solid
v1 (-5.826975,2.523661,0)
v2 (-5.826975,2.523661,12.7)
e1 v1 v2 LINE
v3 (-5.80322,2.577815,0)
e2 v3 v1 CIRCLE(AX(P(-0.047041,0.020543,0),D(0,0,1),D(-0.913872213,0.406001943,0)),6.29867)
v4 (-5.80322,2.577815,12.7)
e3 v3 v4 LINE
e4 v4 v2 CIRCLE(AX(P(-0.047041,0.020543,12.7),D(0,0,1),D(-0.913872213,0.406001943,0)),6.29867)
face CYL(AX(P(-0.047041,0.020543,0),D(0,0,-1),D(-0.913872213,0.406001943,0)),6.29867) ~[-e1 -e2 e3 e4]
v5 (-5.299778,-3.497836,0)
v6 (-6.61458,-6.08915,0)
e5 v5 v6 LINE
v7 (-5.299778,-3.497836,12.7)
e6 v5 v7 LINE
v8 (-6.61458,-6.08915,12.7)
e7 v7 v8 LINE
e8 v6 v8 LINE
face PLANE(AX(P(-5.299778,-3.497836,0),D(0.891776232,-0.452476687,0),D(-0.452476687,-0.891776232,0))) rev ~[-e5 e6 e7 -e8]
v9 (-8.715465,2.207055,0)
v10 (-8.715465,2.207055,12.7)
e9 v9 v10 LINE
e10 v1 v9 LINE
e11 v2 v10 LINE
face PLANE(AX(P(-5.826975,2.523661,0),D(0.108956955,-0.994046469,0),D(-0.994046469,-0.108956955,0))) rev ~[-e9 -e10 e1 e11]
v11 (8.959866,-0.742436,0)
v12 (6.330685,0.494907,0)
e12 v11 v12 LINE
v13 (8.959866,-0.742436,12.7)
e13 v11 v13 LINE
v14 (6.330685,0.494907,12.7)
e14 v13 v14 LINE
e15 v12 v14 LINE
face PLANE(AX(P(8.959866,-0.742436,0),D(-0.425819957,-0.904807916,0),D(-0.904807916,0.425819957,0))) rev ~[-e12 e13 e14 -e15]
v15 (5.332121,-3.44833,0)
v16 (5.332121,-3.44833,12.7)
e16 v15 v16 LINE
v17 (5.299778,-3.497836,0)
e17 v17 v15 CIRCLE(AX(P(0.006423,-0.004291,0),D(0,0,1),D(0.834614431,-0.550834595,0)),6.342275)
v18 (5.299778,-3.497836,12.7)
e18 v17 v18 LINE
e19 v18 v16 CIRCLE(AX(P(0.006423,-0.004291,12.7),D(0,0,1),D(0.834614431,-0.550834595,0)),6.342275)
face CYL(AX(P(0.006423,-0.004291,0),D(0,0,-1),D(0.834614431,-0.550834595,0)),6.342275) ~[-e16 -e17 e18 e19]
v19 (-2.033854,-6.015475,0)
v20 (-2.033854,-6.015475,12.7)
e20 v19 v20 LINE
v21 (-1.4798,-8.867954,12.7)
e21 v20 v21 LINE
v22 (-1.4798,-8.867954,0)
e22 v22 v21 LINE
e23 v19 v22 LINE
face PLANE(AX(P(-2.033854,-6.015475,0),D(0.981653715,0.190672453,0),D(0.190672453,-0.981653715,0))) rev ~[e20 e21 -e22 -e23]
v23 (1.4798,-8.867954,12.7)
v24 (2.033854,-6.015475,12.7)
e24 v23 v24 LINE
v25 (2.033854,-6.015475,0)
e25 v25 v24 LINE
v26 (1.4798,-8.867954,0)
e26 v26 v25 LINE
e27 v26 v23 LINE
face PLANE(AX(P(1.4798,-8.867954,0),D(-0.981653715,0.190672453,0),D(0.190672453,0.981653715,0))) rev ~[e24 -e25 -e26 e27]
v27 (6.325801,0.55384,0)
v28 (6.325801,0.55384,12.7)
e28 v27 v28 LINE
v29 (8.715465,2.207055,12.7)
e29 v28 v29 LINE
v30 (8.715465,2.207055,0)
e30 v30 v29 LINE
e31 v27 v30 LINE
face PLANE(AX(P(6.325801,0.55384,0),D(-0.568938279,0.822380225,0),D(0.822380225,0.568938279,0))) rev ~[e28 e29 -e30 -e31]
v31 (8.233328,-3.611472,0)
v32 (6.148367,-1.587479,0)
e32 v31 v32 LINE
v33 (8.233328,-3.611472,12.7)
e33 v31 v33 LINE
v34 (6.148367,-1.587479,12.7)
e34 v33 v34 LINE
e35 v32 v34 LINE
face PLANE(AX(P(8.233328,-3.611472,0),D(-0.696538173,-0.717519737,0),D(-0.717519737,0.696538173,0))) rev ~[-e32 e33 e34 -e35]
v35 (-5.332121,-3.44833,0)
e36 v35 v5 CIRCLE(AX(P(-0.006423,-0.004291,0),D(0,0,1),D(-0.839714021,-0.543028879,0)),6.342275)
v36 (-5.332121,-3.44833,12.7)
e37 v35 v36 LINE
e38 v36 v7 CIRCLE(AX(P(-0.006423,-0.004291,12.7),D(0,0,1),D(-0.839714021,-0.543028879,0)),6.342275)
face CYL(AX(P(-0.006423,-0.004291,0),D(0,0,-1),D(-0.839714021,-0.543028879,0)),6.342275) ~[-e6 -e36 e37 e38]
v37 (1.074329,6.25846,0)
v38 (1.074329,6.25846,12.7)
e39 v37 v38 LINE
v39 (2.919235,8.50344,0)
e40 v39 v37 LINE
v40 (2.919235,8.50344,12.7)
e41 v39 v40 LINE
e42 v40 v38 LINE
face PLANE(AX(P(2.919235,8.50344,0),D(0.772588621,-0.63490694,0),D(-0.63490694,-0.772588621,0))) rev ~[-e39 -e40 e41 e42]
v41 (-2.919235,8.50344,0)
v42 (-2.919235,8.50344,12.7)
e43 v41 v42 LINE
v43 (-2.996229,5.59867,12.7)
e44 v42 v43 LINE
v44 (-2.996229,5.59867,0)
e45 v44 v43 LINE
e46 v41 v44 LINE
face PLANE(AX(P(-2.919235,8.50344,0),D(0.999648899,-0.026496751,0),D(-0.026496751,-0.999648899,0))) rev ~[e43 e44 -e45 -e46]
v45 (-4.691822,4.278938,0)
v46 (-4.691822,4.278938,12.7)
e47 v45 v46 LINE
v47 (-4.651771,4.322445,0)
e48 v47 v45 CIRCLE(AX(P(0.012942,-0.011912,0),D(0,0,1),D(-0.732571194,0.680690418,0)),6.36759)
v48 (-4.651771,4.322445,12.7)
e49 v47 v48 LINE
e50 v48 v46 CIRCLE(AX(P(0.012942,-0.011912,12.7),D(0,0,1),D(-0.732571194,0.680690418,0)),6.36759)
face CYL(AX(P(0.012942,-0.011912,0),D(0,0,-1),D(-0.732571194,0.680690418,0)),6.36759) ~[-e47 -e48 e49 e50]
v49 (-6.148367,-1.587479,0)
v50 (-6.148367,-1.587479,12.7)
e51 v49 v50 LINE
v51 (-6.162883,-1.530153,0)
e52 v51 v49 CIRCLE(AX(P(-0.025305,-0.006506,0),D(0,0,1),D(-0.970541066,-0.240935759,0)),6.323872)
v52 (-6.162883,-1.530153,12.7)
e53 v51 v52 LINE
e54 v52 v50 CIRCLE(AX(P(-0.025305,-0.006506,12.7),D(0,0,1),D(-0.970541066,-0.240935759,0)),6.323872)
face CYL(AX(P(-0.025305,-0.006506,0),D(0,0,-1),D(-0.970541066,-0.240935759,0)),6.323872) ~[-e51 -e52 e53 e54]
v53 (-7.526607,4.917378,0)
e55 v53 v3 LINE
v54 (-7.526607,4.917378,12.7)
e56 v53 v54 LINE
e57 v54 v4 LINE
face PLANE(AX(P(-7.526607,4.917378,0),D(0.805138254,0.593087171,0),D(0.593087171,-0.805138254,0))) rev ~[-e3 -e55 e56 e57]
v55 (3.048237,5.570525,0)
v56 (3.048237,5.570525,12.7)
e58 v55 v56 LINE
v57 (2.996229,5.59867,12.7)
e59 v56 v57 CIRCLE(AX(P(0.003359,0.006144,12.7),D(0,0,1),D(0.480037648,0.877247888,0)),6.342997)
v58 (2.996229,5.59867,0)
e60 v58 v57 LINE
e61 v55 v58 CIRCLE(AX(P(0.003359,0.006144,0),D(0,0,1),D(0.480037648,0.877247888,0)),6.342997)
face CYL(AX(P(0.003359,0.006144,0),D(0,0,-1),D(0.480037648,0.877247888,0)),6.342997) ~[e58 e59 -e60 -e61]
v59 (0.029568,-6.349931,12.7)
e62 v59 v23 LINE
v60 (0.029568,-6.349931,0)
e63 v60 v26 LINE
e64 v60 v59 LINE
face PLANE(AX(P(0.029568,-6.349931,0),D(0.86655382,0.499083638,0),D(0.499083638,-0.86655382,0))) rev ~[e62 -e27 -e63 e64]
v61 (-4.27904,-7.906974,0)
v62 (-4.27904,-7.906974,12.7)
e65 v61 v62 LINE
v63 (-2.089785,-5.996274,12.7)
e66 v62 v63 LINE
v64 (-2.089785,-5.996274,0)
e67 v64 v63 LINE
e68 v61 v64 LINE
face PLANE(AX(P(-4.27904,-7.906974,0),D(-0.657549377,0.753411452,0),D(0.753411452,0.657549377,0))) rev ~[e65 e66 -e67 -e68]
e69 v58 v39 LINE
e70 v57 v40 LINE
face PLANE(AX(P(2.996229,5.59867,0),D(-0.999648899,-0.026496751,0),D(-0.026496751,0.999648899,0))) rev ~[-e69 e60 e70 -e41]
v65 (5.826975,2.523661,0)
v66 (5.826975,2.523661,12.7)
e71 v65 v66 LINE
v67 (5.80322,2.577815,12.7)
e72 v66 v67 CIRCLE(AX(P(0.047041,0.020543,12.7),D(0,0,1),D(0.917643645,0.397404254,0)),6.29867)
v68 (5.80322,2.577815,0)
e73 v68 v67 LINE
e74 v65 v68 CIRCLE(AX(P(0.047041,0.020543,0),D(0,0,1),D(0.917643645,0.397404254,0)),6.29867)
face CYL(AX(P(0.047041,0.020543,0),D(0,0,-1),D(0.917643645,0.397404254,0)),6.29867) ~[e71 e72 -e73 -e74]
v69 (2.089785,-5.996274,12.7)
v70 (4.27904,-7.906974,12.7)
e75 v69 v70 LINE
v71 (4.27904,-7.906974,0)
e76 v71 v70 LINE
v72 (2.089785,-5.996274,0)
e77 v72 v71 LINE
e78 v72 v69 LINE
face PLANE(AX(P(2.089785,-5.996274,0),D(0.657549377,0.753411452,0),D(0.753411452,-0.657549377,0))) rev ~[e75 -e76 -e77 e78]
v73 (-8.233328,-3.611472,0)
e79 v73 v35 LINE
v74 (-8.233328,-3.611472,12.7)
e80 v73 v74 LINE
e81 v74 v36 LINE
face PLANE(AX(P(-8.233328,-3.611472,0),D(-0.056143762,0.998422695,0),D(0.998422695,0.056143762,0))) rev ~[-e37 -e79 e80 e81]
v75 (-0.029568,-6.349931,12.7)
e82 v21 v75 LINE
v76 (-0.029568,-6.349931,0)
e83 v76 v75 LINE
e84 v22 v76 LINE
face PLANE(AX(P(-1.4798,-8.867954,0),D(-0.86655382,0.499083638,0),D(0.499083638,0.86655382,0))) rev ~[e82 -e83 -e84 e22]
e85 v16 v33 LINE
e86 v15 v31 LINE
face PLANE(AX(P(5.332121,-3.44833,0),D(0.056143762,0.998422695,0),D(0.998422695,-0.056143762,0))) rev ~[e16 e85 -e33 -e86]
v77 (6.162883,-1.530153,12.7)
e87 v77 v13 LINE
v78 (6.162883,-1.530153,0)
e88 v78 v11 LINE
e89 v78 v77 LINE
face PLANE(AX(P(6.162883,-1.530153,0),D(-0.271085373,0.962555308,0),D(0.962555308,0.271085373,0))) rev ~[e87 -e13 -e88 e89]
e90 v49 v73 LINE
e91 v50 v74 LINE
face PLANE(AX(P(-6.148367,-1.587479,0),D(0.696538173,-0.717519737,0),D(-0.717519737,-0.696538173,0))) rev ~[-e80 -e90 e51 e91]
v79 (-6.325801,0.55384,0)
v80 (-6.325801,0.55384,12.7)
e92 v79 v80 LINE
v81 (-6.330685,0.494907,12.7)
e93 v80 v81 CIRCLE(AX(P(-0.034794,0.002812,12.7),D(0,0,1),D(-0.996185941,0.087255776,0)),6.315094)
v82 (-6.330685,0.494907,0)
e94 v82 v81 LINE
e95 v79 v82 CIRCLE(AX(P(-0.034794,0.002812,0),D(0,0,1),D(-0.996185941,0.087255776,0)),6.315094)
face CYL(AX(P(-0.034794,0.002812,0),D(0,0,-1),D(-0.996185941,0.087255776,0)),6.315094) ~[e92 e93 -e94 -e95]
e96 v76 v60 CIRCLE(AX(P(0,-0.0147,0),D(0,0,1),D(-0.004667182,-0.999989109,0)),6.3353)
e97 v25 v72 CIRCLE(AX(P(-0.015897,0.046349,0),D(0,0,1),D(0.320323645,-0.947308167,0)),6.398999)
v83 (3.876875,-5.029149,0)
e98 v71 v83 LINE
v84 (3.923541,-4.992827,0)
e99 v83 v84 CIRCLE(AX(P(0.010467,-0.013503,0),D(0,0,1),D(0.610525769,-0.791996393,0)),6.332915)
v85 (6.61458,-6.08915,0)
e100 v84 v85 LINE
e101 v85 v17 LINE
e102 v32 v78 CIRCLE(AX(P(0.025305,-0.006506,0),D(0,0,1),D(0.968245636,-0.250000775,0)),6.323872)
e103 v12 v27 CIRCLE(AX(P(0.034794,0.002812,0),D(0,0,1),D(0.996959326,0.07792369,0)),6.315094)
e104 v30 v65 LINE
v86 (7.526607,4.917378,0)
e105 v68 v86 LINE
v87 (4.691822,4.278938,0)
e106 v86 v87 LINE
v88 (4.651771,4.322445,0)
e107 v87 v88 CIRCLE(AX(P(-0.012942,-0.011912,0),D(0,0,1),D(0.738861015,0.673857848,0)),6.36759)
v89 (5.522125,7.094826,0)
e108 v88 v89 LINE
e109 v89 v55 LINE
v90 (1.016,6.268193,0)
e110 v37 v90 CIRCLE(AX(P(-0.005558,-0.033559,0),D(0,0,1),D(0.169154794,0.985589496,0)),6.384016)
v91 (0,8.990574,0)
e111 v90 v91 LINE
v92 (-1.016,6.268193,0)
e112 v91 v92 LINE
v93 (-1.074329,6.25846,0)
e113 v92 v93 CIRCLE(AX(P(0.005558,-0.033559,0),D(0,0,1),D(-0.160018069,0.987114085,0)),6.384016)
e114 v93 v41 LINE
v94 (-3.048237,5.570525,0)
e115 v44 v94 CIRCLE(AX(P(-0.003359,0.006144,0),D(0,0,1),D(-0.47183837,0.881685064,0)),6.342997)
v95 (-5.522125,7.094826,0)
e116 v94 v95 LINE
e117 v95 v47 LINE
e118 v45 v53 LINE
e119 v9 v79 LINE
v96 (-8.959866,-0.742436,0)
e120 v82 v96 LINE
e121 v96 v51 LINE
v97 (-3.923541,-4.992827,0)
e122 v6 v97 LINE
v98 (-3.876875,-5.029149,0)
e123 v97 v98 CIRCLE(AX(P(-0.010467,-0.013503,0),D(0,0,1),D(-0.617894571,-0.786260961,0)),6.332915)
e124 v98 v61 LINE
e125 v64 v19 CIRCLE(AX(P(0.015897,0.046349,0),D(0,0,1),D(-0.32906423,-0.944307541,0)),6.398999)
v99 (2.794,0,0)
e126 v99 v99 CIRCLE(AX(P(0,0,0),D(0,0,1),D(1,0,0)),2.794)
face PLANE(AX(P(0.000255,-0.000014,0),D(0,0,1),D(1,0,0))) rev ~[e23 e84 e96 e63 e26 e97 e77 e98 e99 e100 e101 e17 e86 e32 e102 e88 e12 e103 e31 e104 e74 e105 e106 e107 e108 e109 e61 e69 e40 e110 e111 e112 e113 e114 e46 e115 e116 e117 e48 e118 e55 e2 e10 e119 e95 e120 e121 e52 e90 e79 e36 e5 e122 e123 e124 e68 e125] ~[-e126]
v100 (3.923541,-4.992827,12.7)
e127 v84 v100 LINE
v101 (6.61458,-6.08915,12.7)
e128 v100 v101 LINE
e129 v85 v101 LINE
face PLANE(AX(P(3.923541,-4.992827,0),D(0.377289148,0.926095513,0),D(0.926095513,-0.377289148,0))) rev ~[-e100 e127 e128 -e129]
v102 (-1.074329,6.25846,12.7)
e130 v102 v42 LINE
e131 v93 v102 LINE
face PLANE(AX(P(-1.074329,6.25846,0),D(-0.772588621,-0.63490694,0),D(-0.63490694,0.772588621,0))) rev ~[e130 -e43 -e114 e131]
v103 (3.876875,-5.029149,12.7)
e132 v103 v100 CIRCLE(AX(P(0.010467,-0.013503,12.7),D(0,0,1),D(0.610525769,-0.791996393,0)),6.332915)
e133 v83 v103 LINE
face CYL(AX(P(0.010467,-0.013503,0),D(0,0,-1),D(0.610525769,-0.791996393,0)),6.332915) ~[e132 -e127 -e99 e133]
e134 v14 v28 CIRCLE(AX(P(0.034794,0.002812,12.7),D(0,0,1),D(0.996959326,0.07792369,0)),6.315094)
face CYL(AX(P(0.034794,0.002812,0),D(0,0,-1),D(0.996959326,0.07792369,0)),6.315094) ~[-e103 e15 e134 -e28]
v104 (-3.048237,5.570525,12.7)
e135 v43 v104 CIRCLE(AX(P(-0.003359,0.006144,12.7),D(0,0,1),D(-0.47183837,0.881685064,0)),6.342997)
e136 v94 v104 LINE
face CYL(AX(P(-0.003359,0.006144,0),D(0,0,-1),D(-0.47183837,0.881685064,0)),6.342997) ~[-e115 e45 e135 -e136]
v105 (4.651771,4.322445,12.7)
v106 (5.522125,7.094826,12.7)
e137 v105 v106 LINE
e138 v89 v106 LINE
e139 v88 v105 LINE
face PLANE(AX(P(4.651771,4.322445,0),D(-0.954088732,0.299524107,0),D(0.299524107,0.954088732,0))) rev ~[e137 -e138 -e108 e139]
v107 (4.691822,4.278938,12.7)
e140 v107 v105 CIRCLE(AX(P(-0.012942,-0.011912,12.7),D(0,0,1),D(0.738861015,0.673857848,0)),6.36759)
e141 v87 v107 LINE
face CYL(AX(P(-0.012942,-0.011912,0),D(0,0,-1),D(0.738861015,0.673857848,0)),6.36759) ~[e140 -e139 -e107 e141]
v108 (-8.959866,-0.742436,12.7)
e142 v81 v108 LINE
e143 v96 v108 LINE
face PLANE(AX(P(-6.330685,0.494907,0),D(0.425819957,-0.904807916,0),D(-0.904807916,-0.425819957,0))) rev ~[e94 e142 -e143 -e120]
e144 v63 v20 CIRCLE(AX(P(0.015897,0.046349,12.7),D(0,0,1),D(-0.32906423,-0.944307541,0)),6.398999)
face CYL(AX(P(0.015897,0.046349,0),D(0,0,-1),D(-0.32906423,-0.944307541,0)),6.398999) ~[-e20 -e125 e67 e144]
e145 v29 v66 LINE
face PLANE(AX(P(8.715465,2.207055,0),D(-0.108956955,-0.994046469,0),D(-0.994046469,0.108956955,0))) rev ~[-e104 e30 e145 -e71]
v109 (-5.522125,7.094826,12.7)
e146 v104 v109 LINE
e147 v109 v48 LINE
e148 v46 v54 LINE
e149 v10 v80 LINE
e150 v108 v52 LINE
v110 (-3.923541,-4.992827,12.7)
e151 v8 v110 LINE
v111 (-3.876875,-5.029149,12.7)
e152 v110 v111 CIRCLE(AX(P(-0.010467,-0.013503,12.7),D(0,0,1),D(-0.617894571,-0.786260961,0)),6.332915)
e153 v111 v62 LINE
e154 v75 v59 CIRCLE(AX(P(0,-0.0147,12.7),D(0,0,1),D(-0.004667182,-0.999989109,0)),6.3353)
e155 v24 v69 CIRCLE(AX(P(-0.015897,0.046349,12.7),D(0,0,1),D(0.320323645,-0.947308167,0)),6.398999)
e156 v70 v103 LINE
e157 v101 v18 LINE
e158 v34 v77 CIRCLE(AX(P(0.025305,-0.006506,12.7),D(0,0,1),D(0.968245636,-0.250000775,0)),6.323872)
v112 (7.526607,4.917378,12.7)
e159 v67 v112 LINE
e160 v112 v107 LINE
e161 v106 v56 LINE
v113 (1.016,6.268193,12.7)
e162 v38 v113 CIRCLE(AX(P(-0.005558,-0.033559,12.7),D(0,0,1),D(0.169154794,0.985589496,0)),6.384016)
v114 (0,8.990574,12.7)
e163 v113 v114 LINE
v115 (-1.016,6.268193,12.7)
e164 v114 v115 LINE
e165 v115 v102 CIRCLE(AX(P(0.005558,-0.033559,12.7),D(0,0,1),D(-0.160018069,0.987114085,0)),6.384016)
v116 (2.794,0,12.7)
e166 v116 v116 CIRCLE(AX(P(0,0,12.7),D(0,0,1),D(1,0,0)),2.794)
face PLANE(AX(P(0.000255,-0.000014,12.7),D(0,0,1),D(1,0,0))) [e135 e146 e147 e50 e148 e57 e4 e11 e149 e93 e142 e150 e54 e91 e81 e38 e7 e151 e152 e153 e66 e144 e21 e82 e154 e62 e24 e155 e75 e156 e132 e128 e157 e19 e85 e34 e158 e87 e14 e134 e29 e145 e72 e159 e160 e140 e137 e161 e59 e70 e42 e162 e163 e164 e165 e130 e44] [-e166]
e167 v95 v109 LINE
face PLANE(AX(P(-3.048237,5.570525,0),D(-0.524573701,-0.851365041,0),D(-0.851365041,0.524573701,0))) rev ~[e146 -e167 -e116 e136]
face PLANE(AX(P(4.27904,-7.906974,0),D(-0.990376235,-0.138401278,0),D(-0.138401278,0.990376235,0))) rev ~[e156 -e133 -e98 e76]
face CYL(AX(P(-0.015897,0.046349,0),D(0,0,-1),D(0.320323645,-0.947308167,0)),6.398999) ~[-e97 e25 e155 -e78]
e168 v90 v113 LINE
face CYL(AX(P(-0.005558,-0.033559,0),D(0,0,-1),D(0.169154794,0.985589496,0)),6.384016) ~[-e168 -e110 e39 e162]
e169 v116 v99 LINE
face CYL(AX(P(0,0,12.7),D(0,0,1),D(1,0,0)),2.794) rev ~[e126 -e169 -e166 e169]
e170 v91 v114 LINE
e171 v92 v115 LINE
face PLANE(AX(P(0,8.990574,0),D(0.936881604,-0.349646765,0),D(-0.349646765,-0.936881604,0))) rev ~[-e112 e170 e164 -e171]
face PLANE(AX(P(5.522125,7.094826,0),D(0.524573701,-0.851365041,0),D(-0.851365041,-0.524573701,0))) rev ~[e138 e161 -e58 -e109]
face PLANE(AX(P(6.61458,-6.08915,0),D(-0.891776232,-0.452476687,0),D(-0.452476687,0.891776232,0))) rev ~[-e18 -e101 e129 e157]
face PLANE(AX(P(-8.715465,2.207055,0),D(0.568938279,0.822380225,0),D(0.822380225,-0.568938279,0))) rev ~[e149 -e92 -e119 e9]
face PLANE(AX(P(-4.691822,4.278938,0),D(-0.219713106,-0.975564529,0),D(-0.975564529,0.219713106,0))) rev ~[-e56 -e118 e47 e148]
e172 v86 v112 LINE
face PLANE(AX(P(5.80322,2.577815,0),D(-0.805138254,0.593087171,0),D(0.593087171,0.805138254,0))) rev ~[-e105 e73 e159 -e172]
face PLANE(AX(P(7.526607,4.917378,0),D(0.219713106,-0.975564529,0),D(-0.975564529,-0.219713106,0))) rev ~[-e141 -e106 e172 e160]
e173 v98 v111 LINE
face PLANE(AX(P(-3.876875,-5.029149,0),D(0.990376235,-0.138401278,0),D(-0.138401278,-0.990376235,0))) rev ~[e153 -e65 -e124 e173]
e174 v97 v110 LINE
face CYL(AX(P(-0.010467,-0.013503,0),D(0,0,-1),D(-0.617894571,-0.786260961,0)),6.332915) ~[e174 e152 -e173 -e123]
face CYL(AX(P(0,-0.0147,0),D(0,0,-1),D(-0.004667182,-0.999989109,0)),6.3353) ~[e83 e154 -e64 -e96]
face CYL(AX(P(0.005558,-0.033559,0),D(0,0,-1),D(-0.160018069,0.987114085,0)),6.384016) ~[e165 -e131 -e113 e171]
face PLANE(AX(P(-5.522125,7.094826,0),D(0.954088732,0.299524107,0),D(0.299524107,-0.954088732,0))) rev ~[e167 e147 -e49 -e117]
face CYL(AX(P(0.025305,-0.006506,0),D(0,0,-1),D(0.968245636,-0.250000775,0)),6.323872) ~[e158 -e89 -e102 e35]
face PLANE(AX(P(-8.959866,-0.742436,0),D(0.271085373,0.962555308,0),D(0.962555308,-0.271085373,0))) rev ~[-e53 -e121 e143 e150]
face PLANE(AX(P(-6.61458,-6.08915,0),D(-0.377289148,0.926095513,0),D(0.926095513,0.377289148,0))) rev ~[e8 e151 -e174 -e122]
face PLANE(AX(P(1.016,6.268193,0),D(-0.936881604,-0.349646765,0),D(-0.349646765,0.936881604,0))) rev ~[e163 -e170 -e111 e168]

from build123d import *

# Parameters (mm, degrees)
F1_DEPTH = 12.7
F2_R     = 2.794
F3_DEPTH = 12.7


with BuildPart() as f1:
    # F0 (on Top) → F1 (new body)
    with BuildSketch(Plane.XY):
        with BuildLine():
            ThreePointArc((6.162883, -1.530153), (6.303047, -0.770776), (6.35, 0))
            ThreePointArc((6.35, 0), (6.345169, 0.247642), (6.330685, 0.494907))
            ThreePointArc((6.330685, 0.494907), (6.328312, 0.524379), (6.325801, 0.55384))
            ThreePointArc((6.325801, 0.55384), (6.155692, 1.558833), (5.826975, 2.523661))
            ThreePointArc((5.826975, 2.523661), (5.815161, 2.550766), (5.80322, 2.577815))
            ThreePointArc((5.80322, 2.577815), (5.316007, 3.473121), (4.691822, 4.278938))
            ThreePointArc((4.691822, 4.278938), (4.671847, 4.300738), (4.651771, 4.322445))
            ThreePointArc((4.651771, 4.322445), (3.900251, 5.011042), (3.048237, 5.570525))
            ThreePointArc((3.048237, 5.570525), (3.022266, 5.584658), (2.996229, 5.59867))
            ThreePointArc((2.996229, 5.59867), (2.061842, 6.005939), (1.074329, 6.25846))
            ThreePointArc((1.074329, 6.25846), (1.045176, 6.263394), (1.016, 6.268193))
            ThreePointArc((1.016, 6.268193), (0, 6.35), (-1.016, 6.268193))
            ThreePointArc((-1.016, 6.268193), (-1.045176, 6.263394), (-1.074329, 6.25846))
            ThreePointArc((-1.074329, 6.25846), (-2.061842, 6.005939), (-2.996229, 5.59867))
            ThreePointArc((-2.996229, 5.59867), (-3.022266, 5.584658), (-3.048237, 5.570525))
            ThreePointArc((-3.048237, 5.570525), (-3.900251, 5.011042), (-4.651771, 4.322445))
            ThreePointArc((-4.651771, 4.322445), (-4.671847, 4.300738), (-4.691822, 4.278938))
            ThreePointArc((-4.691822, 4.278938), (-5.316007, 3.473121), (-5.80322, 2.577815))
            ThreePointArc((-5.80322, 2.577815), (-5.815161, 2.550766), (-5.826975, 2.523661))
            ThreePointArc((-5.826975, 2.523661), (-6.155692, 1.558833), (-6.325801, 0.55384))
            ThreePointArc((-6.325801, 0.55384), (-6.328312, 0.524379), (-6.330685, 0.494907))
            ThreePointArc((-6.330685, 0.494907), (-6.328312, -0.524379), (-6.162883, -1.530153))
            ThreePointArc((-6.162883, -1.530153), (-6.155692, -1.558833), (-6.148367, -1.587479))
            ThreePointArc((-6.148367, -1.587479), (-5.815161, -2.550766), (-5.332121, -3.44833))
            ThreePointArc((-5.332121, -3.44833), (-5.316007, -3.473121), (-5.299778, -3.497836))
            ThreePointArc((-5.299778, -3.497836), (-4.671847, -4.300738), (-3.923541, -4.992827))
            ThreePointArc((-3.923541, -4.992827), (-3.900251, -5.011042), (-3.876875, -5.029149))
            ThreePointArc((-3.876875, -5.029149), (-3.022266, -5.584658), (-2.089785, -5.996274))
            ThreePointArc((-2.089785, -5.996274), (-2.061842, -6.005939), (-2.033854, -6.015475))
            ThreePointArc((-2.033854, -6.015475), (-1.045176, -6.263394), (-0.029568, -6.349931))
            ThreePointArc((-0.029568, -6.349931), (0, -6.35), (0.029568, -6.349931))
            ThreePointArc((0.029568, -6.349931), (1.045176, -6.263394), (2.033854, -6.015475))
            ThreePointArc((2.033854, -6.015475), (2.061842, -6.005939), (2.089785, -5.996274))
            ThreePointArc((2.089785, -5.996274), (3.022266, -5.584658), (3.876875, -5.029149))
            ThreePointArc((3.876875, -5.029149), (3.900251, -5.011042), (3.923541, -4.992827))
            ThreePointArc((3.923541, -4.992827), (4.671847, -4.300738), (5.299778, -3.497836))
            ThreePointArc((5.299778, -3.497836), (5.316007, -3.473121), (5.332121, -3.44833))
            ThreePointArc((5.332121, -3.44833), (5.815161, -2.550766), (6.148367, -1.587479))
            ThreePointArc((6.148367, -1.587479), (6.155692, -1.558833), (6.162883, -1.530153))
        make_face()
        with BuildLine():
            ThreePointArc((1.074329, 6.25846), (2.061842, 6.005939), (2.996229, 5.59867))
            Line((2.996229, 5.59867), (2.919235, 8.50344))
            Line((2.919235, 8.50344), (1.074329, 6.25846))
        make_face()
        with BuildLine():
            ThreePointArc((-6.325801, 0.55384), (-6.155692, 1.558833), (-5.826975, 2.523661))
            Line((-5.826975, 2.523661), (-8.715465, 2.207055))
            Line((-8.715465, 2.207055), (-6.325801, 0.55384))
        make_face()
        with BuildLine():
            ThreePointArc((-4.651771, 4.322445), (-3.900251, 5.011042), (-3.048237, 5.570525))
            Line((-3.048237, 5.570525), (-5.522125, 7.094826))
            Line((-5.522125, 7.094826), (-4.651771, 4.322445))
        make_face()
        with BuildLine():
            ThreePointArc((5.826975, 2.523661), (6.155692, 1.558833), (6.325801, 0.55384))
            Line((6.325801, 0.55384), (8.715465, 2.207055))
            Line((8.715465, 2.207055), (5.826975, 2.523661))
        make_face()
        with BuildLine():
            ThreePointArc((6.330685, 0.494907), (6.345169, 0.247642), (6.35, 0))
            ThreePointArc((6.35, 0), (6.303047, -0.770776), (6.162883, -1.530153))
            Line((6.162883, -1.530153), (8.959866, -0.742436))
            Line((8.959866, -0.742436), (6.330685, 0.494907))
        make_face()
        with BuildLine():
            Line((8.233328, -3.611472), (6.148367, -1.587479))
            ThreePointArc((6.148367, -1.587479), (5.815161, -2.550766), (5.332121, -3.44833))
            Line((5.332121, -3.44833), (8.233328, -3.611472))
        make_face()
        with BuildLine():
            Line((-4.27904, -7.906974), (-2.089785, -5.996274))
            ThreePointArc((-2.089785, -5.996274), (-3.022266, -5.584658), (-3.876875, -5.029149))
            Line((-3.876875, -5.029149), (-4.27904, -7.906974))
        make_face()
        with BuildLine():
            Line((-6.61458, -6.08915), (-3.923541, -4.992827))
            ThreePointArc((-3.923541, -4.992827), (-4.671847, -4.300738), (-5.299778, -3.497836))
            Line((-5.299778, -3.497836), (-6.61458, -6.08915))
        make_face()
        with BuildLine():
            Line((-8.959866, -0.742436), (-6.162883, -1.530153))
            ThreePointArc((-6.162883, -1.530153), (-6.328312, -0.524379), (-6.330685, 0.494907))
            Line((-6.330685, 0.494907), (-8.959866, -0.742436))
        make_face()
        with BuildLine():
            ThreePointArc((-5.80322, 2.577815), (-5.316007, 3.473121), (-4.691822, 4.278938))
            Line((-4.691822, 4.278938), (-7.526607, 4.917378))
            Line((-7.526607, 4.917378), (-5.80322, 2.577815))
        make_face()
        with BuildLine():
            ThreePointArc((-2.996229, 5.59867), (-2.061842, 6.005939), (-1.074329, 6.25846))
            Line((-1.074329, 6.25846), (-2.919235, 8.50344))
            Line((-2.919235, 8.50344), (-2.996229, 5.59867))
        make_face()
        with BuildLine():
            ThreePointArc((-1.016, 6.268193), (0, 6.35), (1.016, 6.268193))
            Line((1.016, 6.268193), (0, 8.990574))
            Line((0, 8.990574), (-1.016, 6.268193))
        make_face()
        with BuildLine():
            ThreePointArc((3.048237, 5.570525), (3.900251, 5.011042), (4.651771, 4.322445))
            Line((4.651771, 4.322445), (5.522125, 7.094826))
            Line((5.522125, 7.094826), (3.048237, 5.570525))
        make_face()
        with BuildLine():
            Line((1.4798, -8.867954), (2.033854, -6.015475))
            ThreePointArc((2.033854, -6.015475), (1.045176, -6.263394), (0.029568, -6.349931))
            Line((0.029568, -6.349931), (1.4798, -8.867954))
        make_face()
        with BuildLine():
            Line((-1.4798, -8.867954), (-0.029568, -6.349931))
            ThreePointArc((-0.029568, -6.349931), (-1.045176, -6.263394), (-2.033854, -6.015475))
            Line((-2.033854, -6.015475), (-1.4798, -8.867954))
        make_face()
        with BuildLine():
            Line((4.27904, -7.906974), (3.876875, -5.029149))
            ThreePointArc((3.876875, -5.029149), (3.022266, -5.584658), (2.089785, -5.996274))
            Line((2.089785, -5.996274), (4.27904, -7.906974))
        make_face()
        with BuildLine():
            Line((6.61458, -6.08915), (5.299778, -3.497836))
            ThreePointArc((5.299778, -3.497836), (4.671847, -4.300738), (3.923541, -4.992827))
            Line((3.923541, -4.992827), (6.61458, -6.08915))
        make_face()
        with BuildLine():
            ThreePointArc((4.691822, 4.278938), (5.316007, 3.473121), (5.80322, 2.577815))
            Line((5.80322, 2.577815), (7.526607, 4.917378))
            Line((7.526607, 4.917378), (4.691822, 4.278938))
        make_face()
        with BuildLine():
            Line((-8.233328, -3.611472), (-5.332121, -3.44833))
            ThreePointArc((-5.332121, -3.44833), (-5.815161, -2.550766), (-6.148367, -1.587479))
            Line((-6.148367, -1.587479), (-8.233328, -3.611472))
        make_face()
    extrude(amount=F1_DEPTH)

    # F2 (on face) → F3 (cut)
    with BuildSketch(Plane.XY.offset(12.7)):
        Circle(F2_R)
    extrude(amount=-F3_DEPTH, mode=Mode.SUBTRACT)


solid = f1.part
